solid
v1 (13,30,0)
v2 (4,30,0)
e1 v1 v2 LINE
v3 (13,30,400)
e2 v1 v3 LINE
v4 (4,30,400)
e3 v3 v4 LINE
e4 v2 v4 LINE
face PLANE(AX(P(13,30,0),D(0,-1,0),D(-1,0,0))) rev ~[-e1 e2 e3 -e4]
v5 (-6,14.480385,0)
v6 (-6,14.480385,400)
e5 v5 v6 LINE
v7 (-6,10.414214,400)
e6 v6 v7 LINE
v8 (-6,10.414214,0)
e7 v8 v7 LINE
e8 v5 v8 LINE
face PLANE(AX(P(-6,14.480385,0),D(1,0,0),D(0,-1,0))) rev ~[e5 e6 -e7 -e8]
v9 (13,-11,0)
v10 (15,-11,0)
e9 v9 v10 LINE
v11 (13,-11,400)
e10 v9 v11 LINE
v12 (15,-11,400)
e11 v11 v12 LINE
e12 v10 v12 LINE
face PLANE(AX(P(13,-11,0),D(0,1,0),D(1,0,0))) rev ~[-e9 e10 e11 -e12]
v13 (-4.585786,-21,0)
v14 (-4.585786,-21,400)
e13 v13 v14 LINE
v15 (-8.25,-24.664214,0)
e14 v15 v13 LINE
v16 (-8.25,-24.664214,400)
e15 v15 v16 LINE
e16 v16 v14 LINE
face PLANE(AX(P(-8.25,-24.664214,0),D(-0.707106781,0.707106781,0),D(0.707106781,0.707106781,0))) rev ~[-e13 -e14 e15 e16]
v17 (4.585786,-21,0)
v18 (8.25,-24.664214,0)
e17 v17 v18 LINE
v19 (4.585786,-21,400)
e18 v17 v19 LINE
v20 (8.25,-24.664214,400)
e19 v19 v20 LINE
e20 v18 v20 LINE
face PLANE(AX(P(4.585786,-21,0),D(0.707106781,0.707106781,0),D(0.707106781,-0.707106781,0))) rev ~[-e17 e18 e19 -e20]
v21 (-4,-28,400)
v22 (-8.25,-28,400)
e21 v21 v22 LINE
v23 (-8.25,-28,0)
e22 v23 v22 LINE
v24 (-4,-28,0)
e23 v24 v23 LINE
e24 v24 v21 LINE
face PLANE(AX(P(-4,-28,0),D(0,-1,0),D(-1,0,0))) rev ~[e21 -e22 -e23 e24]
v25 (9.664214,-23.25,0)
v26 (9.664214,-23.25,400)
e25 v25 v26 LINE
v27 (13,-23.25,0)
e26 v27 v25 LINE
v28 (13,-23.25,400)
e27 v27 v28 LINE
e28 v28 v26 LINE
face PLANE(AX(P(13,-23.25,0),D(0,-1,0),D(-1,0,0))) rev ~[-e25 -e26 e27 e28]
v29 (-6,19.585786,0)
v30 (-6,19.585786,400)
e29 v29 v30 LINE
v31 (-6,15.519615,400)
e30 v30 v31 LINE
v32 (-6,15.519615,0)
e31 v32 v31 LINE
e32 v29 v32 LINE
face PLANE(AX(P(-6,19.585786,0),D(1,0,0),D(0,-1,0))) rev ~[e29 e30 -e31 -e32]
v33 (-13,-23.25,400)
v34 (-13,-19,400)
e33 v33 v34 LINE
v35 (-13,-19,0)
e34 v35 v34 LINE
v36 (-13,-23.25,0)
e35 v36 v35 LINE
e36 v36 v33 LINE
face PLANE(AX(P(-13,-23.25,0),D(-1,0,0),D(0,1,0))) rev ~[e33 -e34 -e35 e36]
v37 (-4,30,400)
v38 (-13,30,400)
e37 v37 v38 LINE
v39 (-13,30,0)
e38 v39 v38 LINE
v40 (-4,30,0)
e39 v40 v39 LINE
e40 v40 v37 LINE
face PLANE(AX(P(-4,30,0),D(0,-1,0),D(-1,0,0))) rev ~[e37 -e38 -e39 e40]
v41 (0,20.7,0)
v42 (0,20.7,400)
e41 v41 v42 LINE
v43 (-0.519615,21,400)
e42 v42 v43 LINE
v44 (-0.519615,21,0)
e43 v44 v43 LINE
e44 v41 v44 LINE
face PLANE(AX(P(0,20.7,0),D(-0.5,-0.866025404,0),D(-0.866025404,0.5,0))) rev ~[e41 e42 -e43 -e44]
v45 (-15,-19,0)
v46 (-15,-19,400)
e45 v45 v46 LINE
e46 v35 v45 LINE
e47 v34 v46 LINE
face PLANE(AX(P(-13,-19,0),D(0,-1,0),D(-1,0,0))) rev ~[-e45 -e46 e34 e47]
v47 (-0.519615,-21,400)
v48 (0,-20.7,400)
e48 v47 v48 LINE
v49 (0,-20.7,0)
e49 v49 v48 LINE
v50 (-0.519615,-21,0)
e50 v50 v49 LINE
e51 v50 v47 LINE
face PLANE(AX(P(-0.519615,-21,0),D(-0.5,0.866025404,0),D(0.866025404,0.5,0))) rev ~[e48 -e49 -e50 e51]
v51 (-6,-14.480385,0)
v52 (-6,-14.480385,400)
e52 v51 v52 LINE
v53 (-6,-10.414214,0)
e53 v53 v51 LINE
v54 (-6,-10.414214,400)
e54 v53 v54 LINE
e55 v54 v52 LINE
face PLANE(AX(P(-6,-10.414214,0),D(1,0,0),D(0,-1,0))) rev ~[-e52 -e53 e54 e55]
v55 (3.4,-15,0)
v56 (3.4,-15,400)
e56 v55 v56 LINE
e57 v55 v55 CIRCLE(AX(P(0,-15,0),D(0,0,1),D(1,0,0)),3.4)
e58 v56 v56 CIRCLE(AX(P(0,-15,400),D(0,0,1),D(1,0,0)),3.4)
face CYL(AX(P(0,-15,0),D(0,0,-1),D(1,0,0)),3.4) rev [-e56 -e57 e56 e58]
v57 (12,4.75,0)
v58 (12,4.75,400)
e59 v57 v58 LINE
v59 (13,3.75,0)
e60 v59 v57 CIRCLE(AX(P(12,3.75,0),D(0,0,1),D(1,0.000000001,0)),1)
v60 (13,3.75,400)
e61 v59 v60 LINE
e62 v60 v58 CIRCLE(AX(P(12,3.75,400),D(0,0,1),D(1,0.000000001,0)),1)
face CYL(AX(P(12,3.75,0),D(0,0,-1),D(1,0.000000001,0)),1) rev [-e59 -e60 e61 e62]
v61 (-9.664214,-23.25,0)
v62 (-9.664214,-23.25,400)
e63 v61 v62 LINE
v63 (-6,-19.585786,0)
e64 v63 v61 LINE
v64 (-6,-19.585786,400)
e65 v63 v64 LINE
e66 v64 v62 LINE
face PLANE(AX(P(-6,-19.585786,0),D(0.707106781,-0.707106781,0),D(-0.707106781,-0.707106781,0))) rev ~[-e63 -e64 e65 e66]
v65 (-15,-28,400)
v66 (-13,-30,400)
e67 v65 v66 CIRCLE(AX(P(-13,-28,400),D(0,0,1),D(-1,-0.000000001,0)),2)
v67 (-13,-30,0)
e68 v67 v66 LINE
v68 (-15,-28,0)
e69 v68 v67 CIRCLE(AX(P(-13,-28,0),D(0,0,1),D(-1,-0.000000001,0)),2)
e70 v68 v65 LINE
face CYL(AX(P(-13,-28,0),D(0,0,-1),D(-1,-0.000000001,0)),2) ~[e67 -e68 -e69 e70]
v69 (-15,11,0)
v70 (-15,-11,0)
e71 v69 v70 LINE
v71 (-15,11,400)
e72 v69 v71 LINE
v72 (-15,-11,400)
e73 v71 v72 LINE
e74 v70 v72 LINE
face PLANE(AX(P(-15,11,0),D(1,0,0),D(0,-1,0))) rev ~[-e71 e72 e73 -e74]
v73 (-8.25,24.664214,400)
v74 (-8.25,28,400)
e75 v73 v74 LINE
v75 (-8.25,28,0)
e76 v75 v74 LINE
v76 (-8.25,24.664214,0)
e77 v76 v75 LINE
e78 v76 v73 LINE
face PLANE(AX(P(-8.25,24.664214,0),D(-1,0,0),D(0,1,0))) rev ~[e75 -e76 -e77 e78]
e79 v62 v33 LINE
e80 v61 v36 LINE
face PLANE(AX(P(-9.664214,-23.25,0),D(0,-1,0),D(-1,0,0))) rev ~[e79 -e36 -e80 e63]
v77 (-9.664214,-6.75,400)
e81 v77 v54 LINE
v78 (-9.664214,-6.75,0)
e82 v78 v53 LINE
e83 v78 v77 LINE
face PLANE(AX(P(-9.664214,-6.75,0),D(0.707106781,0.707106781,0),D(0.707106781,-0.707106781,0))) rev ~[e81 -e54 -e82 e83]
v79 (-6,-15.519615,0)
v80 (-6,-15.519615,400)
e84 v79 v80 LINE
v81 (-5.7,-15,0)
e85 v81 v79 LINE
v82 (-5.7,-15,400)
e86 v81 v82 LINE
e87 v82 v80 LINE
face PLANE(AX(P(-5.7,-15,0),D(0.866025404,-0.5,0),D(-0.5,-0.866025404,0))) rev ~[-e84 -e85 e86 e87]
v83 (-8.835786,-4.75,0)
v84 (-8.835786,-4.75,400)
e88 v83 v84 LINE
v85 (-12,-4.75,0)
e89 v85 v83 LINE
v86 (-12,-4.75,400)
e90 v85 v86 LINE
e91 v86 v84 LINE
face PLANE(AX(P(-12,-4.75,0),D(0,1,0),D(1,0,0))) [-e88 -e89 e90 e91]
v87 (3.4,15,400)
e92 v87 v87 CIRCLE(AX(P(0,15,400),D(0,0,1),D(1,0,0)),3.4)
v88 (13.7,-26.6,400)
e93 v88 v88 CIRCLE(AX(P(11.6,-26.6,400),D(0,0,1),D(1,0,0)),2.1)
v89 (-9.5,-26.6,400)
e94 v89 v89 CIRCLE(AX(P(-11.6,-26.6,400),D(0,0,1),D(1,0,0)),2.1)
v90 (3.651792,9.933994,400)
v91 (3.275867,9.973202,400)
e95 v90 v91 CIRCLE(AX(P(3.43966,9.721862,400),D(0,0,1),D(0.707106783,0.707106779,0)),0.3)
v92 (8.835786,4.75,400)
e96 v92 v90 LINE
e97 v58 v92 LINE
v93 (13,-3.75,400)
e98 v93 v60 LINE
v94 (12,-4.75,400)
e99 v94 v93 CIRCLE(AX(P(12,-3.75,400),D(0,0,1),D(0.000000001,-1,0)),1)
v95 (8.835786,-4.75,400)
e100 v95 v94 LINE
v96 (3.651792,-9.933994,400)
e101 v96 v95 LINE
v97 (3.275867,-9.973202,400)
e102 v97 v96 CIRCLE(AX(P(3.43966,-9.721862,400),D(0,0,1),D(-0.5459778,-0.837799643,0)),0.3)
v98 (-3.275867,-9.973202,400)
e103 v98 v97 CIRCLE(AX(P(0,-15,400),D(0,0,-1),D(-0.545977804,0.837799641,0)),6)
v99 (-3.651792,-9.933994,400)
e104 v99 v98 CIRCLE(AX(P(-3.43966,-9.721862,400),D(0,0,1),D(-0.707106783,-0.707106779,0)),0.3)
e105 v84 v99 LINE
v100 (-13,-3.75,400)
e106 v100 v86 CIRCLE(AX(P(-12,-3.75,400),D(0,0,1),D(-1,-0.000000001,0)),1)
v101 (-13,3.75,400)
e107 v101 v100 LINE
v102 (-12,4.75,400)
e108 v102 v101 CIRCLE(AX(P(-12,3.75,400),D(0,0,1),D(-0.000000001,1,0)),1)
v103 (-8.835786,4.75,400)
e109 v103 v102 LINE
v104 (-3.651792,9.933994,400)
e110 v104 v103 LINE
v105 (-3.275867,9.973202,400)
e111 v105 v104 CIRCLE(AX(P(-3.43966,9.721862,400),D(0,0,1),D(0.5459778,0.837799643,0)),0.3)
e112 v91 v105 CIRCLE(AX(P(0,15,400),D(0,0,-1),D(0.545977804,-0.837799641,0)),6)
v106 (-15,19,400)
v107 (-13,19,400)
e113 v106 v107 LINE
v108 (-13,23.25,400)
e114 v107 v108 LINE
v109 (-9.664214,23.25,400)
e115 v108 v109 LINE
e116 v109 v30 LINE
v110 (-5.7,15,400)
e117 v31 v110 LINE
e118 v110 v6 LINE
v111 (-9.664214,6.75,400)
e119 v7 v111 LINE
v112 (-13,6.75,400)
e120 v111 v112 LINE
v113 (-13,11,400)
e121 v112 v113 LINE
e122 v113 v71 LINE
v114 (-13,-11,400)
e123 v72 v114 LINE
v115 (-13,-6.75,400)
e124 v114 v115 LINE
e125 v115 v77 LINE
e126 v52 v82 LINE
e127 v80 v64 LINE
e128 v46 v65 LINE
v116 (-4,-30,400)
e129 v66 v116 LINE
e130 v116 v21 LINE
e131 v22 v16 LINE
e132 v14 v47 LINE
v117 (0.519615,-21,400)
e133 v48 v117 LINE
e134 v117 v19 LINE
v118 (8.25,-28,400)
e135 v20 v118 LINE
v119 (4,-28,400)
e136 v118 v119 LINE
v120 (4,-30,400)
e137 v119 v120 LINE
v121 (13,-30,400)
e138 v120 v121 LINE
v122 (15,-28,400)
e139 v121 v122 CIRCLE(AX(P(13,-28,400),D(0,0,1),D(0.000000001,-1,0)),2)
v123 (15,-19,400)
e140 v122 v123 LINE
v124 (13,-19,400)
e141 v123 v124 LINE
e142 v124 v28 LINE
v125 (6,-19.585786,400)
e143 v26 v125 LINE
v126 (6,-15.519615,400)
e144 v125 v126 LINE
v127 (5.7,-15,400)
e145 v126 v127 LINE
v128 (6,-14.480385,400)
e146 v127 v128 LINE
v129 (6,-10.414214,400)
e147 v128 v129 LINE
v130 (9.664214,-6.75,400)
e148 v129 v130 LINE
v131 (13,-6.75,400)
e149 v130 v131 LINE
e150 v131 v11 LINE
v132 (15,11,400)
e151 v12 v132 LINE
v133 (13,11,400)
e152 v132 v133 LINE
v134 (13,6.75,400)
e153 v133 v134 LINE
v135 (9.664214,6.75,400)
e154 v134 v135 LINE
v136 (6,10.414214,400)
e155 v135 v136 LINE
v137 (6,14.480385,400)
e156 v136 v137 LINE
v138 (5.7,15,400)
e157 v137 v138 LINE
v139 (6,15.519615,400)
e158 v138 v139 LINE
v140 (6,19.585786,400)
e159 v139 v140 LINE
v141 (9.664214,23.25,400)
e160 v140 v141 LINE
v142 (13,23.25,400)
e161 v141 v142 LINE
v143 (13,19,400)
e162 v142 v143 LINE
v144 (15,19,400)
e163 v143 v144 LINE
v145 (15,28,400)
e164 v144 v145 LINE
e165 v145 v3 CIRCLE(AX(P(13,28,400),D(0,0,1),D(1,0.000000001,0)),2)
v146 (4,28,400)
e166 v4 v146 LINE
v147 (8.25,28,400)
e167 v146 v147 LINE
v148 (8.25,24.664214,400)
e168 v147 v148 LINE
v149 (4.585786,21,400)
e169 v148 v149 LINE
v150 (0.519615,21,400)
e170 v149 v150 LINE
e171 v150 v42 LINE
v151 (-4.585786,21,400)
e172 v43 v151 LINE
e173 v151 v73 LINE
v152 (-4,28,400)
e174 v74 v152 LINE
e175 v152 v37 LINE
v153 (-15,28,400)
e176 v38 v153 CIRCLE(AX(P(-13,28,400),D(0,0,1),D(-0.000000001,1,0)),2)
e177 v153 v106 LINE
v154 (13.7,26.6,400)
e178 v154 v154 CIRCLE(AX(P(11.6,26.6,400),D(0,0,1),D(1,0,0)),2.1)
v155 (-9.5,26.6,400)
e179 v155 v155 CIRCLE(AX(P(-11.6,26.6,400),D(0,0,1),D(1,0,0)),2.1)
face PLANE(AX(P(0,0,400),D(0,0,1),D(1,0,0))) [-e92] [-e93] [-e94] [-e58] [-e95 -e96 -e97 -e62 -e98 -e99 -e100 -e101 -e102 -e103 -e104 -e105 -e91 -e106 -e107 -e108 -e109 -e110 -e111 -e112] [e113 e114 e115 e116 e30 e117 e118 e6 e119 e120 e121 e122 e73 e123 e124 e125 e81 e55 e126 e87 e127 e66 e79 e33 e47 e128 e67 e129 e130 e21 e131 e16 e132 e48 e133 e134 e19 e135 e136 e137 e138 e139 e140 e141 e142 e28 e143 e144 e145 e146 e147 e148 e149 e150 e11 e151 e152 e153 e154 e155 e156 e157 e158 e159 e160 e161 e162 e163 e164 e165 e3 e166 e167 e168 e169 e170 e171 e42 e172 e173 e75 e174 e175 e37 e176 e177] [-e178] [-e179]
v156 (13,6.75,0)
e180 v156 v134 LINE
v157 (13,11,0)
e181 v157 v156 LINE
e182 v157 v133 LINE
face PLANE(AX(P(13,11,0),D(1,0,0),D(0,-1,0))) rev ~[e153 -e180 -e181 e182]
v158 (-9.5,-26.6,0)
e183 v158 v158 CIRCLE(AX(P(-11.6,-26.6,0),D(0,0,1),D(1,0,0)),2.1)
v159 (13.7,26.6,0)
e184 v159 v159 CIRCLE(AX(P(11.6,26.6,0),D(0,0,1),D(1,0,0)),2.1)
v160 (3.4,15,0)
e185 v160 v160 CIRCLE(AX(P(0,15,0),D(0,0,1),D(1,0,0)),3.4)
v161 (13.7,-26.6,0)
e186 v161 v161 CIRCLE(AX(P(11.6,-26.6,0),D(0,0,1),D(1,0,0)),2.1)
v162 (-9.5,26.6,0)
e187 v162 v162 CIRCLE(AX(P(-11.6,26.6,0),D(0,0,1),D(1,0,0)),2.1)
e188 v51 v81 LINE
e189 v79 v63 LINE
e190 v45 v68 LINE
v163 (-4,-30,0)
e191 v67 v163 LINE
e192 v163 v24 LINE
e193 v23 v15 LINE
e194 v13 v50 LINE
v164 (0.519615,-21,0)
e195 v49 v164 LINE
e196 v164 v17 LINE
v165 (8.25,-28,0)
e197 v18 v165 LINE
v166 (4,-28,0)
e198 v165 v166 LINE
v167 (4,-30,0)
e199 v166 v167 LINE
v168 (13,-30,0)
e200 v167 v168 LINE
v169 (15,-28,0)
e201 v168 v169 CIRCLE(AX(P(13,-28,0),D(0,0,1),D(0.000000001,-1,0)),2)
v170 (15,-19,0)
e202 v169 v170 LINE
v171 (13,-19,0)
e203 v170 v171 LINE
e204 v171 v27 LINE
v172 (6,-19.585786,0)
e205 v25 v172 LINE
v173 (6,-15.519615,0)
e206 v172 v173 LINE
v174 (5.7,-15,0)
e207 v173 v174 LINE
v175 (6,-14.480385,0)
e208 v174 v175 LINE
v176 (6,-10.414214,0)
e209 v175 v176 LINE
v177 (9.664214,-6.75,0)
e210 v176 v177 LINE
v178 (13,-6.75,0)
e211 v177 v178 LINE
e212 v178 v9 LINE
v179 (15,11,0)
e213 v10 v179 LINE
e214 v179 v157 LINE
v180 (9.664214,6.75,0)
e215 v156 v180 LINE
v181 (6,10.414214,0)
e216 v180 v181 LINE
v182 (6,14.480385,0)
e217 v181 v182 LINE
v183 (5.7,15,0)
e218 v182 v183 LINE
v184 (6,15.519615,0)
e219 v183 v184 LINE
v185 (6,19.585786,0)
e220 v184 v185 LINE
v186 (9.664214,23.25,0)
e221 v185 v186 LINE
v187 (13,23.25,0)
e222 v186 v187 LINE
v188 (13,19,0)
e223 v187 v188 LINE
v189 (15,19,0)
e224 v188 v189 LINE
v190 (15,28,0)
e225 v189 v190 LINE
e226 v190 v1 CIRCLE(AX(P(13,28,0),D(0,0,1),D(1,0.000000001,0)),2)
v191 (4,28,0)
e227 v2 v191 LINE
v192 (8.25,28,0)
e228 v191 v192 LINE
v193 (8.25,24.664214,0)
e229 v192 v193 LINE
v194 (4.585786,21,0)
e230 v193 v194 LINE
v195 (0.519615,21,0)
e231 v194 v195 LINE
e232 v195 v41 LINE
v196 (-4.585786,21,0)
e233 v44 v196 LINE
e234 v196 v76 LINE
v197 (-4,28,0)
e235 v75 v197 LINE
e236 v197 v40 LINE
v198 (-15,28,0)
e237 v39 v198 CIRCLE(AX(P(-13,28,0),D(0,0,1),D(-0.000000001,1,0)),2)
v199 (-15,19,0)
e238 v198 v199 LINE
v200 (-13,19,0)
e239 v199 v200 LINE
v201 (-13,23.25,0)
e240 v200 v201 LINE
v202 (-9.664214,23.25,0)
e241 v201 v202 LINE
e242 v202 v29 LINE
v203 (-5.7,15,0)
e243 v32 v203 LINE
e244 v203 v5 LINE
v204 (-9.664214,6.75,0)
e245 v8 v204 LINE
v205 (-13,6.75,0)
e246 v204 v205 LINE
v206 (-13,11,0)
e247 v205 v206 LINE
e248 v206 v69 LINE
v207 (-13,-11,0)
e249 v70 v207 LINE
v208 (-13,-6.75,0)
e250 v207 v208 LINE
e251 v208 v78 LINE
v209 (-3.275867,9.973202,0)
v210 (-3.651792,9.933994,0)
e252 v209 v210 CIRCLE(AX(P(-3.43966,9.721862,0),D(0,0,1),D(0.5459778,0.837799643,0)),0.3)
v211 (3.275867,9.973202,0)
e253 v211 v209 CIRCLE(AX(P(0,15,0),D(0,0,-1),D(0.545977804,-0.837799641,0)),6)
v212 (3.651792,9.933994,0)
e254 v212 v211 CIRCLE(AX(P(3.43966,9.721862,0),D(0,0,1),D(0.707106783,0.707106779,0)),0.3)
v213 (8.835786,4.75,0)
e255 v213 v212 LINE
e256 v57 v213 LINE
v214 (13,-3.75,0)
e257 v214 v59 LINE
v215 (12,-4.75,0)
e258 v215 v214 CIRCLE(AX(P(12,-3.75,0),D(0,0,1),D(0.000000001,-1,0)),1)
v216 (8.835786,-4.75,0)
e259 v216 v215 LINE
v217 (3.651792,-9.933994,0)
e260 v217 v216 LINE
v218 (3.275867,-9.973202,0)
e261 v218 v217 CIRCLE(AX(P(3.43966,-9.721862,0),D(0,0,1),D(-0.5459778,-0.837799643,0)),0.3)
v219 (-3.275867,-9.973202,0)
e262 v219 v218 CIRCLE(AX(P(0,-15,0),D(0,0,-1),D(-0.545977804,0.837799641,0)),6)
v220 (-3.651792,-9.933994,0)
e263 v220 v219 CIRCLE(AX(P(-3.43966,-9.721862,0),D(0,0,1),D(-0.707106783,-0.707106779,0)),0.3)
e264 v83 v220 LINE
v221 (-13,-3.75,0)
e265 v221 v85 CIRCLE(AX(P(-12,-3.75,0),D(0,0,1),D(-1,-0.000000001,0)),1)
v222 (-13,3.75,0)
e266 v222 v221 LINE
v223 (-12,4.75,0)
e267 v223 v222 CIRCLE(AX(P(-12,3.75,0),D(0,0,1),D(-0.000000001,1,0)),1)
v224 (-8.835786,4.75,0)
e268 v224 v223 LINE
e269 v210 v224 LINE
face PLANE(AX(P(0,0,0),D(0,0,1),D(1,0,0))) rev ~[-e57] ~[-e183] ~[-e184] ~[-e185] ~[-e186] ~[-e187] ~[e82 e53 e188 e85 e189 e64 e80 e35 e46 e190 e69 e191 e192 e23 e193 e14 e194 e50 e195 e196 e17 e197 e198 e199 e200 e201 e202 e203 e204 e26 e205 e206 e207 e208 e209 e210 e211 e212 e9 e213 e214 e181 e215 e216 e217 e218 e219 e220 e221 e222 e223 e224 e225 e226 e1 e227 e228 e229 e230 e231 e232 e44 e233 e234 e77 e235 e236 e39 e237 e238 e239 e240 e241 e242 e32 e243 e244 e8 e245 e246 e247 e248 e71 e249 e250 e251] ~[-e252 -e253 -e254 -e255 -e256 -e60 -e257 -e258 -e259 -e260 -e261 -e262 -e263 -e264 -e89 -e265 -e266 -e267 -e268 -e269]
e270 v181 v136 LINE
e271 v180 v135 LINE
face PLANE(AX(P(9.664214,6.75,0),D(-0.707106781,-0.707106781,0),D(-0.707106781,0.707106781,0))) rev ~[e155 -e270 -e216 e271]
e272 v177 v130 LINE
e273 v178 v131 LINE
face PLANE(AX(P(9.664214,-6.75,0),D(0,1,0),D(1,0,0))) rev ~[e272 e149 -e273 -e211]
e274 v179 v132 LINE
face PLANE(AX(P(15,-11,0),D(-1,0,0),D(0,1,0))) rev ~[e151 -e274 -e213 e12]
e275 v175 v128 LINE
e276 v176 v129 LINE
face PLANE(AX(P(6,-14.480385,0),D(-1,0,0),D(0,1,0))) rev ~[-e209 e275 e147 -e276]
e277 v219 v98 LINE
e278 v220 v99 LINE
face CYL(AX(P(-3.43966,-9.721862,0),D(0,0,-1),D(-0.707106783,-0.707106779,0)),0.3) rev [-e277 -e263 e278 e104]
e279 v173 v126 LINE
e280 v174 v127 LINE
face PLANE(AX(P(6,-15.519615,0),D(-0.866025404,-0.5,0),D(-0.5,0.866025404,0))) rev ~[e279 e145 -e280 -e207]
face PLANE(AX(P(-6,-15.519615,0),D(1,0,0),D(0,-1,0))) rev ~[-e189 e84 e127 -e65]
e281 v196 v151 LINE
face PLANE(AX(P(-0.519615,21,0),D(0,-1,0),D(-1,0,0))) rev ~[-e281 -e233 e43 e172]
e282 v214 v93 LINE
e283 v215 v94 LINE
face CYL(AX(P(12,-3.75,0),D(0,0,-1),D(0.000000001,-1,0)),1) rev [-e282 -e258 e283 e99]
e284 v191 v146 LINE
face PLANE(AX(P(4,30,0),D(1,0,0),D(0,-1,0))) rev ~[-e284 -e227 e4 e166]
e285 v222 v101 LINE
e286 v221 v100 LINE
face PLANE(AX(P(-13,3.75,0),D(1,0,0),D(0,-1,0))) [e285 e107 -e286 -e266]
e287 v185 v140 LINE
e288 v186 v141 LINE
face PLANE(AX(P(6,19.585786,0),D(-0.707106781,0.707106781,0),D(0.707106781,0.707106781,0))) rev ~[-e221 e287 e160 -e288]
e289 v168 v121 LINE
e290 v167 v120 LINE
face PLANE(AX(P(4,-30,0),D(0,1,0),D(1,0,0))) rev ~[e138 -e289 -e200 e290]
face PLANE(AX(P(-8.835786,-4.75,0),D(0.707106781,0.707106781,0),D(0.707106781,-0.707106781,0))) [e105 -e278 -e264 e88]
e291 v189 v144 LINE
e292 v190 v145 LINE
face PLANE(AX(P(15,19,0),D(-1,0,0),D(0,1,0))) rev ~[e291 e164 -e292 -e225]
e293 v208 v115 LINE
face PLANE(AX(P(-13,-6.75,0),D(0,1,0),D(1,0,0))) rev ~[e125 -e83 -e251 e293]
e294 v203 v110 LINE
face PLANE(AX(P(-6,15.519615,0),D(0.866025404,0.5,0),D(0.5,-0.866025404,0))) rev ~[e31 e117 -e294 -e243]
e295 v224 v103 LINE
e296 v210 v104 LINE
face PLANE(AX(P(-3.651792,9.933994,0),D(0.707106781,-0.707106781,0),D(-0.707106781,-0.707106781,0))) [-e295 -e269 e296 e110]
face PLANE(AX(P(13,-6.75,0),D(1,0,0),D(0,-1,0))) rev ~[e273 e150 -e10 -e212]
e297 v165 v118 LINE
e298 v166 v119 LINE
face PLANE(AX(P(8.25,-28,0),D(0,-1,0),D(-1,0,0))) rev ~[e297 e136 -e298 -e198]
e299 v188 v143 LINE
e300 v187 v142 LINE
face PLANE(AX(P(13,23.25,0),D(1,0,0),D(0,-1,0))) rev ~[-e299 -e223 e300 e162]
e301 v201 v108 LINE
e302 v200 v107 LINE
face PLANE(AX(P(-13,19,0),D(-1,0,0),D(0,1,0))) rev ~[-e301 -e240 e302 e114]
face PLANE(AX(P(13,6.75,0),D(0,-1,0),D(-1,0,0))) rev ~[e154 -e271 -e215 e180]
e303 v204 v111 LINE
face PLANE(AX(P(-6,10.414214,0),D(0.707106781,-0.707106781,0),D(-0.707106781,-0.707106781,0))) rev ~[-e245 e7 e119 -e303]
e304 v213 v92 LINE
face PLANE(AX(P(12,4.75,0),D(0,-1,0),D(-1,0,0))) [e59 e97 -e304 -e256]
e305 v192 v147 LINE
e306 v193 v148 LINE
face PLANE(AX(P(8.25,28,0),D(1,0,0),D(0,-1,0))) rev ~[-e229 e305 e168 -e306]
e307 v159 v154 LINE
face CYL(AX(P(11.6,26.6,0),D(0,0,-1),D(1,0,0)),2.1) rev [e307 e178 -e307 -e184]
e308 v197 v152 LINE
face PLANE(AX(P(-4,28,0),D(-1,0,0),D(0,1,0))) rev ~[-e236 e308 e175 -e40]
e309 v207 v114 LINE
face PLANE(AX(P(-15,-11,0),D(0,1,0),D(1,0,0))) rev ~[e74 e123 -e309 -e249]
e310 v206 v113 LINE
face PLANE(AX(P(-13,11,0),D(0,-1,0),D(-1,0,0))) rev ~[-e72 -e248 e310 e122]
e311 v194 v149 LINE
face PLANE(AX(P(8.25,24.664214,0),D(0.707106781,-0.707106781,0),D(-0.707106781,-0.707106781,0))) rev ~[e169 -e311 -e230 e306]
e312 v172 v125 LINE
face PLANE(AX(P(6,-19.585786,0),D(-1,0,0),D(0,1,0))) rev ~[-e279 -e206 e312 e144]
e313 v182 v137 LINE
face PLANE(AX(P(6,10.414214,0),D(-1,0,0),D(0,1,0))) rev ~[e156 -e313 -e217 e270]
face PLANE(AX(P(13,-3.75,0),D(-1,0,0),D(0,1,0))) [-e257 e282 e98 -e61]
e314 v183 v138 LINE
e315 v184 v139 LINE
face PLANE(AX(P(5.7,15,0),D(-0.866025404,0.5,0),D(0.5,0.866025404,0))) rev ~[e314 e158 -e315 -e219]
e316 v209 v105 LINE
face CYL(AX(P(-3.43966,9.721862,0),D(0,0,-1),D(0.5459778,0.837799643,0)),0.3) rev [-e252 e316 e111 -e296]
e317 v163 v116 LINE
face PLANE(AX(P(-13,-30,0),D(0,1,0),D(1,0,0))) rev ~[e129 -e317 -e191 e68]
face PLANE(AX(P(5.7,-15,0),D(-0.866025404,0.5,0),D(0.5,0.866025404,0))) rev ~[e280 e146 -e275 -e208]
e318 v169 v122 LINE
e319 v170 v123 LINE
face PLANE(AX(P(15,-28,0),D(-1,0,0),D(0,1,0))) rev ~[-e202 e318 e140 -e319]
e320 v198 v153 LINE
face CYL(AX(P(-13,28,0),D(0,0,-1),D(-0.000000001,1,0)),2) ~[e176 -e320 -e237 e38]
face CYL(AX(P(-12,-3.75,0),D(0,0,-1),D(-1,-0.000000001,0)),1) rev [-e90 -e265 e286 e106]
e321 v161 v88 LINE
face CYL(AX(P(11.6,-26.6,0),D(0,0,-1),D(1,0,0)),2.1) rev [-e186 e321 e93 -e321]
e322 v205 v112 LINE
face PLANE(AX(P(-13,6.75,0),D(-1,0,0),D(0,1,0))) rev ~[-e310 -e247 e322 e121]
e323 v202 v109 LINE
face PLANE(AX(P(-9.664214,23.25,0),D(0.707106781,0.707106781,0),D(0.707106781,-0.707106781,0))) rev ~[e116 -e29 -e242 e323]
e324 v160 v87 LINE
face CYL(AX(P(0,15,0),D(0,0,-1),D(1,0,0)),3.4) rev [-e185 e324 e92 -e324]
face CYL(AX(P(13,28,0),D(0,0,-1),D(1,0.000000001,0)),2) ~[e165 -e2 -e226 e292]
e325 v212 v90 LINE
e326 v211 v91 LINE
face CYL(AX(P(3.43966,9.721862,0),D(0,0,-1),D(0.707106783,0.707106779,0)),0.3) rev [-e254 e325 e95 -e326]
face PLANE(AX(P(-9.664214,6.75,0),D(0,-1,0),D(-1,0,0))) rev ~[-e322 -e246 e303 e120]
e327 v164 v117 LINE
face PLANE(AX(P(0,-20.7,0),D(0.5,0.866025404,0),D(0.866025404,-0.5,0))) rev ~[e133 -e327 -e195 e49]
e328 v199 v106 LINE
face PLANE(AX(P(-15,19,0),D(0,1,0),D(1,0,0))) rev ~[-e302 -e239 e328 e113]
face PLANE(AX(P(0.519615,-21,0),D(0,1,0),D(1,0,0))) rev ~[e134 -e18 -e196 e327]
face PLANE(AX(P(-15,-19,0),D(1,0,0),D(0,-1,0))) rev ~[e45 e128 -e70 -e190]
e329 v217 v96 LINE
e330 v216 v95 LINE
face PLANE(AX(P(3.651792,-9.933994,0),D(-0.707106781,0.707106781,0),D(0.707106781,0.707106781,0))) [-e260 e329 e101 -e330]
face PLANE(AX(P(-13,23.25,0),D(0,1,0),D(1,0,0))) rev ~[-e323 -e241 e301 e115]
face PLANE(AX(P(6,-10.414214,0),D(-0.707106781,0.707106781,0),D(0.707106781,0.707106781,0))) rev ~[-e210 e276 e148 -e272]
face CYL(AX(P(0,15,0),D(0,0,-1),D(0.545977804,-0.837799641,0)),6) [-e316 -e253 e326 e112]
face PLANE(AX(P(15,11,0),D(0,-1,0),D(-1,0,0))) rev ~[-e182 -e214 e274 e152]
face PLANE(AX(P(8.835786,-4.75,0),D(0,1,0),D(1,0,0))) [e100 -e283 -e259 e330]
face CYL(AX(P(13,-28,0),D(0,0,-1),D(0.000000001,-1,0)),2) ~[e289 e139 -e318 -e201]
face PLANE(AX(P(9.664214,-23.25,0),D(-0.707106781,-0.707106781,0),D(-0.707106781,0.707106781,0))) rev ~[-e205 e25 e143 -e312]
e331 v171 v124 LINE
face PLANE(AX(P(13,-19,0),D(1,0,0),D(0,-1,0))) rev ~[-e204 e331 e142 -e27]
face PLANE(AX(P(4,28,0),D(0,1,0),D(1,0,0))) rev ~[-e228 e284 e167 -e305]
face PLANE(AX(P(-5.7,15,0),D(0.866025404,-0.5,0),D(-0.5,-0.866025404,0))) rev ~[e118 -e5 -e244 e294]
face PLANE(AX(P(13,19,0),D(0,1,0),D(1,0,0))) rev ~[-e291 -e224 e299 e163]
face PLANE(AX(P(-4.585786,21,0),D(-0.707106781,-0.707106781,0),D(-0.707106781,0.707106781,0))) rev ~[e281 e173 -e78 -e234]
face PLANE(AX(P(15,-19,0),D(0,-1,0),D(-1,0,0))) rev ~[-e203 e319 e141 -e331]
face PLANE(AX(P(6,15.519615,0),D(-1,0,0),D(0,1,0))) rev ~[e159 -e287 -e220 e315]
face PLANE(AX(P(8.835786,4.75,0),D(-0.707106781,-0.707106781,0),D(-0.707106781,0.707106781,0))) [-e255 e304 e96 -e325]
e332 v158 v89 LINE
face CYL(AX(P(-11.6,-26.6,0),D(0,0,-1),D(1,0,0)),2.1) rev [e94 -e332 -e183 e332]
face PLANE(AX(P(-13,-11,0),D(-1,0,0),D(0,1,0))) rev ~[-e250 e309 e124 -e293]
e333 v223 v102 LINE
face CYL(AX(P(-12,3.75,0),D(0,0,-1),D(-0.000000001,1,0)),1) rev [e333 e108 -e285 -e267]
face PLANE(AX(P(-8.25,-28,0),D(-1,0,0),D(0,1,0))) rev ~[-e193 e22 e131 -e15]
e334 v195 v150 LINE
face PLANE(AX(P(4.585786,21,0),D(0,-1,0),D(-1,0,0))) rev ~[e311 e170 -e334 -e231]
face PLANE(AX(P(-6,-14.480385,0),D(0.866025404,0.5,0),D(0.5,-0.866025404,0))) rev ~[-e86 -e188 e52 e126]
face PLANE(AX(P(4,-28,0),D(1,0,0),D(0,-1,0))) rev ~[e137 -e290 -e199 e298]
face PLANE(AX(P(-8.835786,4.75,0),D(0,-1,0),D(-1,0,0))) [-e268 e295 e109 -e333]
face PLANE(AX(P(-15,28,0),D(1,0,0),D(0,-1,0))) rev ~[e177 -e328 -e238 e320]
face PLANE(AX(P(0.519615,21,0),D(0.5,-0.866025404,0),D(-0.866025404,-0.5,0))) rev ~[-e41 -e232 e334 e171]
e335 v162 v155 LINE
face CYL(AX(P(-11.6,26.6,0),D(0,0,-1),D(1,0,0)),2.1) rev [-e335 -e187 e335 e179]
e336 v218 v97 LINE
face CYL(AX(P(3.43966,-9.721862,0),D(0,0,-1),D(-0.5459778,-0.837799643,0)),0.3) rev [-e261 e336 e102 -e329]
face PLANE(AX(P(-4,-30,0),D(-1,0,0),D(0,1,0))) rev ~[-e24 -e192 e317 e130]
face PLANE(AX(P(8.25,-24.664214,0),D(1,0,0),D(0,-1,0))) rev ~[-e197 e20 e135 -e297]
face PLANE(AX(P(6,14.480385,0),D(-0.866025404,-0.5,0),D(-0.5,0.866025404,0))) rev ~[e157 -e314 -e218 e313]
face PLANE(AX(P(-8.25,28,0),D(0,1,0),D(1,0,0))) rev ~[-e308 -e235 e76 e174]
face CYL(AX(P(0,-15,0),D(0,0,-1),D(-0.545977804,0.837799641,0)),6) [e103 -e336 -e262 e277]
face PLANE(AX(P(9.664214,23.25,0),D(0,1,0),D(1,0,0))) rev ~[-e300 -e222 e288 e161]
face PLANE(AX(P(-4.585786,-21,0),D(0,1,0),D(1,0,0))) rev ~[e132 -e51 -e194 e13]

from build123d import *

# Parameters (mm, degrees)
MODEL_R             = 2.1
MODEL_R_2           = 3.4
BOSS_EXTRUDE1_DEPTH = 400


with BuildPart() as part:
    # Model → Boss-Extrude1 (new body)
    with BuildSketch(Plane.XY):
        with BuildLine():
            Line((13, -11), (15, -11))
            Line((15, -11), (15, 11))
            Line((15, 11), (13, 11))
            Line((13, 11), (13, 6.75))
            Line((13, 6.75), (9.664213562, 6.75))
            Line((9.664213562, 6.75), (6, 10.414213562))
            Line((6, 10.414213562), (6, 14.480384758))
            Line((6, 14.480384758), (5.7, 15))
            Line((5.7, 15), (6, 15.519615242))
            Line((6, 15.519615242), (6, 19.585786438))
            Line((6, 19.585786438), (9.664213562, 23.25))
            Line((9.664213562, 23.25), (13, 23.25))
            Line((13, 23.25), (13, 19))
            Line((13, 19), (15, 19))
            Line((15, 19), (15, 28))
            ThreePointArc((15, 28), (14.414213562, 29.414213562), (13, 30))
            Line((13, 30), (4, 30))
            Line((4, 30), (4, 28))
            Line((4, 28), (8.25, 28))
            Line((8.25, 28), (8.25, 24.664213562))
            Line((8.25, 24.664213562), (4.585786438, 21))
            Line((4.585786438, 21), (0.519615242, 21))
            Line((0.519615242, 21), (0, 20.7))
            Line((0, 20.7), (-0.519615242, 21))
            Line((-0.519615242, 21), (-4.585786438, 21))
            Line((-4.585786438, 21), (-8.25, 24.664213562))
            Line((-8.25, 24.664213562), (-8.25, 28))
            Line((-8.25, 28), (-4, 28))
            Line((-4, 28), (-4, 30))
            Line((-4, 30), (-13, 30))
            ThreePointArc((-13, 30), (-14.414213562, 29.414213562), (-15, 28))
            Line((-15, 28), (-15, 19))
            Line((-15, 19), (-13, 19))
            Line((-13, 19), (-13, 23.25))
            Line((-13, 23.25), (-9.664213562, 23.25))
            Line((-9.664213562, 23.25), (-6, 19.585786438))
            Line((-6, 19.585786438), (-6, 15.519615242))
            Line((-6, 15.519615242), (-5.7, 15))
            Line((-5.7, 15), (-6, 14.480384758))
            Line((-6, 14.480384758), (-6, 10.414213562))
            Line((-6, 10.414213562), (-9.664213562, 6.75))
            Line((-9.664213562, 6.75), (-13, 6.75))
            Line((-13, 6.75), (-13, 11))
            Line((-13, 11), (-15, 11))
            Line((-15, 11), (-15, -11))
            Line((-15, -11), (-13, -11))
            Line((-13, -11), (-13, -6.75))
            Line((-13, -6.75), (-9.664213562, -6.75))
            Line((-9.664213562, -6.75), (-6, -10.414213562))
            Line((-6, -10.414213562), (-6, -14.480384758))
            Line((-6, -14.480384758), (-5.7, -15))
            Line((-5.7, -15), (-6, -15.519615242))
            Line((-6, -15.519615242), (-6, -19.585786438))
            Line((-6, -19.585786438), (-9.664213562, -23.25))
            Line((-9.664213562, -23.25), (-13, -23.25))
            Line((-13, -23.25), (-13, -19))
            Line((-13, -19), (-15, -19))
            Line((-15, -19), (-15, -28))
            ThreePointArc((-15, -28), (-14.414213562, -29.414213562), (-13, -30))
            Line((-13, -30), (-4, -30))
            Line((-4, -30), (-4, -28))
            Line((-4, -28), (-8.25, -28))
            Line((-8.25, -28), (-8.25, -24.664213562))
            Line((-8.25, -24.664213562), (-4.585786438, -21))
            Line((-4.585786438, -21), (-0.519615242, -21))
            Line((-0.519615242, -21), (0, -20.7))
            Line((0, -20.7), (0.519615242, -21))
            Line((0.519615242, -21), (4.585786438, -21))
            Line((4.585786438, -21), (8.25, -24.664213562))
            Line((8.25, -24.664213562), (8.25, -28))
            Line((8.25, -28), (4, -28))
            Line((4, -28), (4, -30))
            Line((4, -30), (13, -30))
            ThreePointArc((13, -30), (14.414213562, -29.414213562), (15, -28))
            Line((15, -28), (15, -19))
            Line((15, -19), (13, -19))
            Line((13, -19), (13, -23.25))
            Line((13, -23.25), (9.664213562, -23.25))
            Line((9.664213562, -23.25), (6, -19.585786438))
            Line((6, -19.585786438), (6, -15.519615242))
            Line((6, -15.519615242), (5.7, -15))
            Line((5.7, -15), (6, -14.480384758))
            Line((6, -14.480384758), (6, -10.414213562))
            Line((6, -10.414213562), (9.664213562, -6.75))
            Line((9.664213562, -6.75), (13, -6.75))
            Line((13, -6.75), (13, -11))
        make_face()
        with Locations((11.6, -26.6)):
            Circle(MODEL_R, mode=Mode.SUBTRACT)
        with Locations((11.6, 26.6)):
            Circle(MODEL_R, mode=Mode.SUBTRACT)
        with Locations((0, 15)):
            Circle(MODEL_R_2, mode=Mode.SUBTRACT)
        with Locations((0, -15)):
            Circle(MODEL_R_2, mode=Mode.SUBTRACT)
        with Locations((-11.6, 26.6)):
            Circle(MODEL_R, mode=Mode.SUBTRACT)
        with Locations((-11.6, -26.6)):
            Circle(MODEL_R, mode=Mode.SUBTRACT)
        with BuildLine():
            Line((-8.835786438, 4.75), (-12, 4.75))
            ThreePointArc((-12, 4.75), (-12.707106781, 4.457106781), (-13, 3.75))
            Line((-13, 3.75), (-13, -3.75))
            ThreePointArc((-13, -3.75), (-12.707106781, -4.457106781), (-12, -4.75))
            Line((-12, -4.75), (-8.835786438, -4.75))
            Line((-8.835786438, -4.75), (-3.651792162, -9.933994275))
            ThreePointArc((-3.651792162, -9.933994275), (-3.470780421, -10.020243754), (-3.275866822, -9.973202156))
            ThreePointArc((-3.275866822, -9.973202156), (-2e-08, -9), (3.275866789, -9.973202134))
            ThreePointArc((3.275866789, -9.973202134), (3.470780401, -10.020243756), (3.651792162, -9.933994275))
            Line((3.651792162, -9.933994275), (8.835786438, -4.75))
            Line((8.835786438, -4.75), (12, -4.75))
            ThreePointArc((12, -4.75), (12.707106781, -4.457106781), (13, -3.75))
            Line((13, -3.75), (13, 3.75))
            ThreePointArc((13, 3.75), (12.707106781, 4.457106781), (12, 4.75))
            Line((12, 4.75), (8.835786438, 4.75))
            Line((8.835786438, 4.75), (3.651792162, 9.933994275))
            ThreePointArc((3.651792162, 9.933994275), (3.470780421, 10.020243754), (3.275866822, 9.973202156))
            ThreePointArc((3.275866822, 9.973202156), (2e-08, 9), (-3.275866789, 9.973202134))
            ThreePointArc((-3.275866789, 9.973202134), (-3.470780401, 10.020243756), (-3.651792162, 9.933994275))
            Line((-3.651792162, 9.933994275), (-8.835786438, 4.75))
        make_face(mode=Mode.SUBTRACT)
    extrude(amount=BOSS_EXTRUDE1_DEPTH)


solid = part.part
